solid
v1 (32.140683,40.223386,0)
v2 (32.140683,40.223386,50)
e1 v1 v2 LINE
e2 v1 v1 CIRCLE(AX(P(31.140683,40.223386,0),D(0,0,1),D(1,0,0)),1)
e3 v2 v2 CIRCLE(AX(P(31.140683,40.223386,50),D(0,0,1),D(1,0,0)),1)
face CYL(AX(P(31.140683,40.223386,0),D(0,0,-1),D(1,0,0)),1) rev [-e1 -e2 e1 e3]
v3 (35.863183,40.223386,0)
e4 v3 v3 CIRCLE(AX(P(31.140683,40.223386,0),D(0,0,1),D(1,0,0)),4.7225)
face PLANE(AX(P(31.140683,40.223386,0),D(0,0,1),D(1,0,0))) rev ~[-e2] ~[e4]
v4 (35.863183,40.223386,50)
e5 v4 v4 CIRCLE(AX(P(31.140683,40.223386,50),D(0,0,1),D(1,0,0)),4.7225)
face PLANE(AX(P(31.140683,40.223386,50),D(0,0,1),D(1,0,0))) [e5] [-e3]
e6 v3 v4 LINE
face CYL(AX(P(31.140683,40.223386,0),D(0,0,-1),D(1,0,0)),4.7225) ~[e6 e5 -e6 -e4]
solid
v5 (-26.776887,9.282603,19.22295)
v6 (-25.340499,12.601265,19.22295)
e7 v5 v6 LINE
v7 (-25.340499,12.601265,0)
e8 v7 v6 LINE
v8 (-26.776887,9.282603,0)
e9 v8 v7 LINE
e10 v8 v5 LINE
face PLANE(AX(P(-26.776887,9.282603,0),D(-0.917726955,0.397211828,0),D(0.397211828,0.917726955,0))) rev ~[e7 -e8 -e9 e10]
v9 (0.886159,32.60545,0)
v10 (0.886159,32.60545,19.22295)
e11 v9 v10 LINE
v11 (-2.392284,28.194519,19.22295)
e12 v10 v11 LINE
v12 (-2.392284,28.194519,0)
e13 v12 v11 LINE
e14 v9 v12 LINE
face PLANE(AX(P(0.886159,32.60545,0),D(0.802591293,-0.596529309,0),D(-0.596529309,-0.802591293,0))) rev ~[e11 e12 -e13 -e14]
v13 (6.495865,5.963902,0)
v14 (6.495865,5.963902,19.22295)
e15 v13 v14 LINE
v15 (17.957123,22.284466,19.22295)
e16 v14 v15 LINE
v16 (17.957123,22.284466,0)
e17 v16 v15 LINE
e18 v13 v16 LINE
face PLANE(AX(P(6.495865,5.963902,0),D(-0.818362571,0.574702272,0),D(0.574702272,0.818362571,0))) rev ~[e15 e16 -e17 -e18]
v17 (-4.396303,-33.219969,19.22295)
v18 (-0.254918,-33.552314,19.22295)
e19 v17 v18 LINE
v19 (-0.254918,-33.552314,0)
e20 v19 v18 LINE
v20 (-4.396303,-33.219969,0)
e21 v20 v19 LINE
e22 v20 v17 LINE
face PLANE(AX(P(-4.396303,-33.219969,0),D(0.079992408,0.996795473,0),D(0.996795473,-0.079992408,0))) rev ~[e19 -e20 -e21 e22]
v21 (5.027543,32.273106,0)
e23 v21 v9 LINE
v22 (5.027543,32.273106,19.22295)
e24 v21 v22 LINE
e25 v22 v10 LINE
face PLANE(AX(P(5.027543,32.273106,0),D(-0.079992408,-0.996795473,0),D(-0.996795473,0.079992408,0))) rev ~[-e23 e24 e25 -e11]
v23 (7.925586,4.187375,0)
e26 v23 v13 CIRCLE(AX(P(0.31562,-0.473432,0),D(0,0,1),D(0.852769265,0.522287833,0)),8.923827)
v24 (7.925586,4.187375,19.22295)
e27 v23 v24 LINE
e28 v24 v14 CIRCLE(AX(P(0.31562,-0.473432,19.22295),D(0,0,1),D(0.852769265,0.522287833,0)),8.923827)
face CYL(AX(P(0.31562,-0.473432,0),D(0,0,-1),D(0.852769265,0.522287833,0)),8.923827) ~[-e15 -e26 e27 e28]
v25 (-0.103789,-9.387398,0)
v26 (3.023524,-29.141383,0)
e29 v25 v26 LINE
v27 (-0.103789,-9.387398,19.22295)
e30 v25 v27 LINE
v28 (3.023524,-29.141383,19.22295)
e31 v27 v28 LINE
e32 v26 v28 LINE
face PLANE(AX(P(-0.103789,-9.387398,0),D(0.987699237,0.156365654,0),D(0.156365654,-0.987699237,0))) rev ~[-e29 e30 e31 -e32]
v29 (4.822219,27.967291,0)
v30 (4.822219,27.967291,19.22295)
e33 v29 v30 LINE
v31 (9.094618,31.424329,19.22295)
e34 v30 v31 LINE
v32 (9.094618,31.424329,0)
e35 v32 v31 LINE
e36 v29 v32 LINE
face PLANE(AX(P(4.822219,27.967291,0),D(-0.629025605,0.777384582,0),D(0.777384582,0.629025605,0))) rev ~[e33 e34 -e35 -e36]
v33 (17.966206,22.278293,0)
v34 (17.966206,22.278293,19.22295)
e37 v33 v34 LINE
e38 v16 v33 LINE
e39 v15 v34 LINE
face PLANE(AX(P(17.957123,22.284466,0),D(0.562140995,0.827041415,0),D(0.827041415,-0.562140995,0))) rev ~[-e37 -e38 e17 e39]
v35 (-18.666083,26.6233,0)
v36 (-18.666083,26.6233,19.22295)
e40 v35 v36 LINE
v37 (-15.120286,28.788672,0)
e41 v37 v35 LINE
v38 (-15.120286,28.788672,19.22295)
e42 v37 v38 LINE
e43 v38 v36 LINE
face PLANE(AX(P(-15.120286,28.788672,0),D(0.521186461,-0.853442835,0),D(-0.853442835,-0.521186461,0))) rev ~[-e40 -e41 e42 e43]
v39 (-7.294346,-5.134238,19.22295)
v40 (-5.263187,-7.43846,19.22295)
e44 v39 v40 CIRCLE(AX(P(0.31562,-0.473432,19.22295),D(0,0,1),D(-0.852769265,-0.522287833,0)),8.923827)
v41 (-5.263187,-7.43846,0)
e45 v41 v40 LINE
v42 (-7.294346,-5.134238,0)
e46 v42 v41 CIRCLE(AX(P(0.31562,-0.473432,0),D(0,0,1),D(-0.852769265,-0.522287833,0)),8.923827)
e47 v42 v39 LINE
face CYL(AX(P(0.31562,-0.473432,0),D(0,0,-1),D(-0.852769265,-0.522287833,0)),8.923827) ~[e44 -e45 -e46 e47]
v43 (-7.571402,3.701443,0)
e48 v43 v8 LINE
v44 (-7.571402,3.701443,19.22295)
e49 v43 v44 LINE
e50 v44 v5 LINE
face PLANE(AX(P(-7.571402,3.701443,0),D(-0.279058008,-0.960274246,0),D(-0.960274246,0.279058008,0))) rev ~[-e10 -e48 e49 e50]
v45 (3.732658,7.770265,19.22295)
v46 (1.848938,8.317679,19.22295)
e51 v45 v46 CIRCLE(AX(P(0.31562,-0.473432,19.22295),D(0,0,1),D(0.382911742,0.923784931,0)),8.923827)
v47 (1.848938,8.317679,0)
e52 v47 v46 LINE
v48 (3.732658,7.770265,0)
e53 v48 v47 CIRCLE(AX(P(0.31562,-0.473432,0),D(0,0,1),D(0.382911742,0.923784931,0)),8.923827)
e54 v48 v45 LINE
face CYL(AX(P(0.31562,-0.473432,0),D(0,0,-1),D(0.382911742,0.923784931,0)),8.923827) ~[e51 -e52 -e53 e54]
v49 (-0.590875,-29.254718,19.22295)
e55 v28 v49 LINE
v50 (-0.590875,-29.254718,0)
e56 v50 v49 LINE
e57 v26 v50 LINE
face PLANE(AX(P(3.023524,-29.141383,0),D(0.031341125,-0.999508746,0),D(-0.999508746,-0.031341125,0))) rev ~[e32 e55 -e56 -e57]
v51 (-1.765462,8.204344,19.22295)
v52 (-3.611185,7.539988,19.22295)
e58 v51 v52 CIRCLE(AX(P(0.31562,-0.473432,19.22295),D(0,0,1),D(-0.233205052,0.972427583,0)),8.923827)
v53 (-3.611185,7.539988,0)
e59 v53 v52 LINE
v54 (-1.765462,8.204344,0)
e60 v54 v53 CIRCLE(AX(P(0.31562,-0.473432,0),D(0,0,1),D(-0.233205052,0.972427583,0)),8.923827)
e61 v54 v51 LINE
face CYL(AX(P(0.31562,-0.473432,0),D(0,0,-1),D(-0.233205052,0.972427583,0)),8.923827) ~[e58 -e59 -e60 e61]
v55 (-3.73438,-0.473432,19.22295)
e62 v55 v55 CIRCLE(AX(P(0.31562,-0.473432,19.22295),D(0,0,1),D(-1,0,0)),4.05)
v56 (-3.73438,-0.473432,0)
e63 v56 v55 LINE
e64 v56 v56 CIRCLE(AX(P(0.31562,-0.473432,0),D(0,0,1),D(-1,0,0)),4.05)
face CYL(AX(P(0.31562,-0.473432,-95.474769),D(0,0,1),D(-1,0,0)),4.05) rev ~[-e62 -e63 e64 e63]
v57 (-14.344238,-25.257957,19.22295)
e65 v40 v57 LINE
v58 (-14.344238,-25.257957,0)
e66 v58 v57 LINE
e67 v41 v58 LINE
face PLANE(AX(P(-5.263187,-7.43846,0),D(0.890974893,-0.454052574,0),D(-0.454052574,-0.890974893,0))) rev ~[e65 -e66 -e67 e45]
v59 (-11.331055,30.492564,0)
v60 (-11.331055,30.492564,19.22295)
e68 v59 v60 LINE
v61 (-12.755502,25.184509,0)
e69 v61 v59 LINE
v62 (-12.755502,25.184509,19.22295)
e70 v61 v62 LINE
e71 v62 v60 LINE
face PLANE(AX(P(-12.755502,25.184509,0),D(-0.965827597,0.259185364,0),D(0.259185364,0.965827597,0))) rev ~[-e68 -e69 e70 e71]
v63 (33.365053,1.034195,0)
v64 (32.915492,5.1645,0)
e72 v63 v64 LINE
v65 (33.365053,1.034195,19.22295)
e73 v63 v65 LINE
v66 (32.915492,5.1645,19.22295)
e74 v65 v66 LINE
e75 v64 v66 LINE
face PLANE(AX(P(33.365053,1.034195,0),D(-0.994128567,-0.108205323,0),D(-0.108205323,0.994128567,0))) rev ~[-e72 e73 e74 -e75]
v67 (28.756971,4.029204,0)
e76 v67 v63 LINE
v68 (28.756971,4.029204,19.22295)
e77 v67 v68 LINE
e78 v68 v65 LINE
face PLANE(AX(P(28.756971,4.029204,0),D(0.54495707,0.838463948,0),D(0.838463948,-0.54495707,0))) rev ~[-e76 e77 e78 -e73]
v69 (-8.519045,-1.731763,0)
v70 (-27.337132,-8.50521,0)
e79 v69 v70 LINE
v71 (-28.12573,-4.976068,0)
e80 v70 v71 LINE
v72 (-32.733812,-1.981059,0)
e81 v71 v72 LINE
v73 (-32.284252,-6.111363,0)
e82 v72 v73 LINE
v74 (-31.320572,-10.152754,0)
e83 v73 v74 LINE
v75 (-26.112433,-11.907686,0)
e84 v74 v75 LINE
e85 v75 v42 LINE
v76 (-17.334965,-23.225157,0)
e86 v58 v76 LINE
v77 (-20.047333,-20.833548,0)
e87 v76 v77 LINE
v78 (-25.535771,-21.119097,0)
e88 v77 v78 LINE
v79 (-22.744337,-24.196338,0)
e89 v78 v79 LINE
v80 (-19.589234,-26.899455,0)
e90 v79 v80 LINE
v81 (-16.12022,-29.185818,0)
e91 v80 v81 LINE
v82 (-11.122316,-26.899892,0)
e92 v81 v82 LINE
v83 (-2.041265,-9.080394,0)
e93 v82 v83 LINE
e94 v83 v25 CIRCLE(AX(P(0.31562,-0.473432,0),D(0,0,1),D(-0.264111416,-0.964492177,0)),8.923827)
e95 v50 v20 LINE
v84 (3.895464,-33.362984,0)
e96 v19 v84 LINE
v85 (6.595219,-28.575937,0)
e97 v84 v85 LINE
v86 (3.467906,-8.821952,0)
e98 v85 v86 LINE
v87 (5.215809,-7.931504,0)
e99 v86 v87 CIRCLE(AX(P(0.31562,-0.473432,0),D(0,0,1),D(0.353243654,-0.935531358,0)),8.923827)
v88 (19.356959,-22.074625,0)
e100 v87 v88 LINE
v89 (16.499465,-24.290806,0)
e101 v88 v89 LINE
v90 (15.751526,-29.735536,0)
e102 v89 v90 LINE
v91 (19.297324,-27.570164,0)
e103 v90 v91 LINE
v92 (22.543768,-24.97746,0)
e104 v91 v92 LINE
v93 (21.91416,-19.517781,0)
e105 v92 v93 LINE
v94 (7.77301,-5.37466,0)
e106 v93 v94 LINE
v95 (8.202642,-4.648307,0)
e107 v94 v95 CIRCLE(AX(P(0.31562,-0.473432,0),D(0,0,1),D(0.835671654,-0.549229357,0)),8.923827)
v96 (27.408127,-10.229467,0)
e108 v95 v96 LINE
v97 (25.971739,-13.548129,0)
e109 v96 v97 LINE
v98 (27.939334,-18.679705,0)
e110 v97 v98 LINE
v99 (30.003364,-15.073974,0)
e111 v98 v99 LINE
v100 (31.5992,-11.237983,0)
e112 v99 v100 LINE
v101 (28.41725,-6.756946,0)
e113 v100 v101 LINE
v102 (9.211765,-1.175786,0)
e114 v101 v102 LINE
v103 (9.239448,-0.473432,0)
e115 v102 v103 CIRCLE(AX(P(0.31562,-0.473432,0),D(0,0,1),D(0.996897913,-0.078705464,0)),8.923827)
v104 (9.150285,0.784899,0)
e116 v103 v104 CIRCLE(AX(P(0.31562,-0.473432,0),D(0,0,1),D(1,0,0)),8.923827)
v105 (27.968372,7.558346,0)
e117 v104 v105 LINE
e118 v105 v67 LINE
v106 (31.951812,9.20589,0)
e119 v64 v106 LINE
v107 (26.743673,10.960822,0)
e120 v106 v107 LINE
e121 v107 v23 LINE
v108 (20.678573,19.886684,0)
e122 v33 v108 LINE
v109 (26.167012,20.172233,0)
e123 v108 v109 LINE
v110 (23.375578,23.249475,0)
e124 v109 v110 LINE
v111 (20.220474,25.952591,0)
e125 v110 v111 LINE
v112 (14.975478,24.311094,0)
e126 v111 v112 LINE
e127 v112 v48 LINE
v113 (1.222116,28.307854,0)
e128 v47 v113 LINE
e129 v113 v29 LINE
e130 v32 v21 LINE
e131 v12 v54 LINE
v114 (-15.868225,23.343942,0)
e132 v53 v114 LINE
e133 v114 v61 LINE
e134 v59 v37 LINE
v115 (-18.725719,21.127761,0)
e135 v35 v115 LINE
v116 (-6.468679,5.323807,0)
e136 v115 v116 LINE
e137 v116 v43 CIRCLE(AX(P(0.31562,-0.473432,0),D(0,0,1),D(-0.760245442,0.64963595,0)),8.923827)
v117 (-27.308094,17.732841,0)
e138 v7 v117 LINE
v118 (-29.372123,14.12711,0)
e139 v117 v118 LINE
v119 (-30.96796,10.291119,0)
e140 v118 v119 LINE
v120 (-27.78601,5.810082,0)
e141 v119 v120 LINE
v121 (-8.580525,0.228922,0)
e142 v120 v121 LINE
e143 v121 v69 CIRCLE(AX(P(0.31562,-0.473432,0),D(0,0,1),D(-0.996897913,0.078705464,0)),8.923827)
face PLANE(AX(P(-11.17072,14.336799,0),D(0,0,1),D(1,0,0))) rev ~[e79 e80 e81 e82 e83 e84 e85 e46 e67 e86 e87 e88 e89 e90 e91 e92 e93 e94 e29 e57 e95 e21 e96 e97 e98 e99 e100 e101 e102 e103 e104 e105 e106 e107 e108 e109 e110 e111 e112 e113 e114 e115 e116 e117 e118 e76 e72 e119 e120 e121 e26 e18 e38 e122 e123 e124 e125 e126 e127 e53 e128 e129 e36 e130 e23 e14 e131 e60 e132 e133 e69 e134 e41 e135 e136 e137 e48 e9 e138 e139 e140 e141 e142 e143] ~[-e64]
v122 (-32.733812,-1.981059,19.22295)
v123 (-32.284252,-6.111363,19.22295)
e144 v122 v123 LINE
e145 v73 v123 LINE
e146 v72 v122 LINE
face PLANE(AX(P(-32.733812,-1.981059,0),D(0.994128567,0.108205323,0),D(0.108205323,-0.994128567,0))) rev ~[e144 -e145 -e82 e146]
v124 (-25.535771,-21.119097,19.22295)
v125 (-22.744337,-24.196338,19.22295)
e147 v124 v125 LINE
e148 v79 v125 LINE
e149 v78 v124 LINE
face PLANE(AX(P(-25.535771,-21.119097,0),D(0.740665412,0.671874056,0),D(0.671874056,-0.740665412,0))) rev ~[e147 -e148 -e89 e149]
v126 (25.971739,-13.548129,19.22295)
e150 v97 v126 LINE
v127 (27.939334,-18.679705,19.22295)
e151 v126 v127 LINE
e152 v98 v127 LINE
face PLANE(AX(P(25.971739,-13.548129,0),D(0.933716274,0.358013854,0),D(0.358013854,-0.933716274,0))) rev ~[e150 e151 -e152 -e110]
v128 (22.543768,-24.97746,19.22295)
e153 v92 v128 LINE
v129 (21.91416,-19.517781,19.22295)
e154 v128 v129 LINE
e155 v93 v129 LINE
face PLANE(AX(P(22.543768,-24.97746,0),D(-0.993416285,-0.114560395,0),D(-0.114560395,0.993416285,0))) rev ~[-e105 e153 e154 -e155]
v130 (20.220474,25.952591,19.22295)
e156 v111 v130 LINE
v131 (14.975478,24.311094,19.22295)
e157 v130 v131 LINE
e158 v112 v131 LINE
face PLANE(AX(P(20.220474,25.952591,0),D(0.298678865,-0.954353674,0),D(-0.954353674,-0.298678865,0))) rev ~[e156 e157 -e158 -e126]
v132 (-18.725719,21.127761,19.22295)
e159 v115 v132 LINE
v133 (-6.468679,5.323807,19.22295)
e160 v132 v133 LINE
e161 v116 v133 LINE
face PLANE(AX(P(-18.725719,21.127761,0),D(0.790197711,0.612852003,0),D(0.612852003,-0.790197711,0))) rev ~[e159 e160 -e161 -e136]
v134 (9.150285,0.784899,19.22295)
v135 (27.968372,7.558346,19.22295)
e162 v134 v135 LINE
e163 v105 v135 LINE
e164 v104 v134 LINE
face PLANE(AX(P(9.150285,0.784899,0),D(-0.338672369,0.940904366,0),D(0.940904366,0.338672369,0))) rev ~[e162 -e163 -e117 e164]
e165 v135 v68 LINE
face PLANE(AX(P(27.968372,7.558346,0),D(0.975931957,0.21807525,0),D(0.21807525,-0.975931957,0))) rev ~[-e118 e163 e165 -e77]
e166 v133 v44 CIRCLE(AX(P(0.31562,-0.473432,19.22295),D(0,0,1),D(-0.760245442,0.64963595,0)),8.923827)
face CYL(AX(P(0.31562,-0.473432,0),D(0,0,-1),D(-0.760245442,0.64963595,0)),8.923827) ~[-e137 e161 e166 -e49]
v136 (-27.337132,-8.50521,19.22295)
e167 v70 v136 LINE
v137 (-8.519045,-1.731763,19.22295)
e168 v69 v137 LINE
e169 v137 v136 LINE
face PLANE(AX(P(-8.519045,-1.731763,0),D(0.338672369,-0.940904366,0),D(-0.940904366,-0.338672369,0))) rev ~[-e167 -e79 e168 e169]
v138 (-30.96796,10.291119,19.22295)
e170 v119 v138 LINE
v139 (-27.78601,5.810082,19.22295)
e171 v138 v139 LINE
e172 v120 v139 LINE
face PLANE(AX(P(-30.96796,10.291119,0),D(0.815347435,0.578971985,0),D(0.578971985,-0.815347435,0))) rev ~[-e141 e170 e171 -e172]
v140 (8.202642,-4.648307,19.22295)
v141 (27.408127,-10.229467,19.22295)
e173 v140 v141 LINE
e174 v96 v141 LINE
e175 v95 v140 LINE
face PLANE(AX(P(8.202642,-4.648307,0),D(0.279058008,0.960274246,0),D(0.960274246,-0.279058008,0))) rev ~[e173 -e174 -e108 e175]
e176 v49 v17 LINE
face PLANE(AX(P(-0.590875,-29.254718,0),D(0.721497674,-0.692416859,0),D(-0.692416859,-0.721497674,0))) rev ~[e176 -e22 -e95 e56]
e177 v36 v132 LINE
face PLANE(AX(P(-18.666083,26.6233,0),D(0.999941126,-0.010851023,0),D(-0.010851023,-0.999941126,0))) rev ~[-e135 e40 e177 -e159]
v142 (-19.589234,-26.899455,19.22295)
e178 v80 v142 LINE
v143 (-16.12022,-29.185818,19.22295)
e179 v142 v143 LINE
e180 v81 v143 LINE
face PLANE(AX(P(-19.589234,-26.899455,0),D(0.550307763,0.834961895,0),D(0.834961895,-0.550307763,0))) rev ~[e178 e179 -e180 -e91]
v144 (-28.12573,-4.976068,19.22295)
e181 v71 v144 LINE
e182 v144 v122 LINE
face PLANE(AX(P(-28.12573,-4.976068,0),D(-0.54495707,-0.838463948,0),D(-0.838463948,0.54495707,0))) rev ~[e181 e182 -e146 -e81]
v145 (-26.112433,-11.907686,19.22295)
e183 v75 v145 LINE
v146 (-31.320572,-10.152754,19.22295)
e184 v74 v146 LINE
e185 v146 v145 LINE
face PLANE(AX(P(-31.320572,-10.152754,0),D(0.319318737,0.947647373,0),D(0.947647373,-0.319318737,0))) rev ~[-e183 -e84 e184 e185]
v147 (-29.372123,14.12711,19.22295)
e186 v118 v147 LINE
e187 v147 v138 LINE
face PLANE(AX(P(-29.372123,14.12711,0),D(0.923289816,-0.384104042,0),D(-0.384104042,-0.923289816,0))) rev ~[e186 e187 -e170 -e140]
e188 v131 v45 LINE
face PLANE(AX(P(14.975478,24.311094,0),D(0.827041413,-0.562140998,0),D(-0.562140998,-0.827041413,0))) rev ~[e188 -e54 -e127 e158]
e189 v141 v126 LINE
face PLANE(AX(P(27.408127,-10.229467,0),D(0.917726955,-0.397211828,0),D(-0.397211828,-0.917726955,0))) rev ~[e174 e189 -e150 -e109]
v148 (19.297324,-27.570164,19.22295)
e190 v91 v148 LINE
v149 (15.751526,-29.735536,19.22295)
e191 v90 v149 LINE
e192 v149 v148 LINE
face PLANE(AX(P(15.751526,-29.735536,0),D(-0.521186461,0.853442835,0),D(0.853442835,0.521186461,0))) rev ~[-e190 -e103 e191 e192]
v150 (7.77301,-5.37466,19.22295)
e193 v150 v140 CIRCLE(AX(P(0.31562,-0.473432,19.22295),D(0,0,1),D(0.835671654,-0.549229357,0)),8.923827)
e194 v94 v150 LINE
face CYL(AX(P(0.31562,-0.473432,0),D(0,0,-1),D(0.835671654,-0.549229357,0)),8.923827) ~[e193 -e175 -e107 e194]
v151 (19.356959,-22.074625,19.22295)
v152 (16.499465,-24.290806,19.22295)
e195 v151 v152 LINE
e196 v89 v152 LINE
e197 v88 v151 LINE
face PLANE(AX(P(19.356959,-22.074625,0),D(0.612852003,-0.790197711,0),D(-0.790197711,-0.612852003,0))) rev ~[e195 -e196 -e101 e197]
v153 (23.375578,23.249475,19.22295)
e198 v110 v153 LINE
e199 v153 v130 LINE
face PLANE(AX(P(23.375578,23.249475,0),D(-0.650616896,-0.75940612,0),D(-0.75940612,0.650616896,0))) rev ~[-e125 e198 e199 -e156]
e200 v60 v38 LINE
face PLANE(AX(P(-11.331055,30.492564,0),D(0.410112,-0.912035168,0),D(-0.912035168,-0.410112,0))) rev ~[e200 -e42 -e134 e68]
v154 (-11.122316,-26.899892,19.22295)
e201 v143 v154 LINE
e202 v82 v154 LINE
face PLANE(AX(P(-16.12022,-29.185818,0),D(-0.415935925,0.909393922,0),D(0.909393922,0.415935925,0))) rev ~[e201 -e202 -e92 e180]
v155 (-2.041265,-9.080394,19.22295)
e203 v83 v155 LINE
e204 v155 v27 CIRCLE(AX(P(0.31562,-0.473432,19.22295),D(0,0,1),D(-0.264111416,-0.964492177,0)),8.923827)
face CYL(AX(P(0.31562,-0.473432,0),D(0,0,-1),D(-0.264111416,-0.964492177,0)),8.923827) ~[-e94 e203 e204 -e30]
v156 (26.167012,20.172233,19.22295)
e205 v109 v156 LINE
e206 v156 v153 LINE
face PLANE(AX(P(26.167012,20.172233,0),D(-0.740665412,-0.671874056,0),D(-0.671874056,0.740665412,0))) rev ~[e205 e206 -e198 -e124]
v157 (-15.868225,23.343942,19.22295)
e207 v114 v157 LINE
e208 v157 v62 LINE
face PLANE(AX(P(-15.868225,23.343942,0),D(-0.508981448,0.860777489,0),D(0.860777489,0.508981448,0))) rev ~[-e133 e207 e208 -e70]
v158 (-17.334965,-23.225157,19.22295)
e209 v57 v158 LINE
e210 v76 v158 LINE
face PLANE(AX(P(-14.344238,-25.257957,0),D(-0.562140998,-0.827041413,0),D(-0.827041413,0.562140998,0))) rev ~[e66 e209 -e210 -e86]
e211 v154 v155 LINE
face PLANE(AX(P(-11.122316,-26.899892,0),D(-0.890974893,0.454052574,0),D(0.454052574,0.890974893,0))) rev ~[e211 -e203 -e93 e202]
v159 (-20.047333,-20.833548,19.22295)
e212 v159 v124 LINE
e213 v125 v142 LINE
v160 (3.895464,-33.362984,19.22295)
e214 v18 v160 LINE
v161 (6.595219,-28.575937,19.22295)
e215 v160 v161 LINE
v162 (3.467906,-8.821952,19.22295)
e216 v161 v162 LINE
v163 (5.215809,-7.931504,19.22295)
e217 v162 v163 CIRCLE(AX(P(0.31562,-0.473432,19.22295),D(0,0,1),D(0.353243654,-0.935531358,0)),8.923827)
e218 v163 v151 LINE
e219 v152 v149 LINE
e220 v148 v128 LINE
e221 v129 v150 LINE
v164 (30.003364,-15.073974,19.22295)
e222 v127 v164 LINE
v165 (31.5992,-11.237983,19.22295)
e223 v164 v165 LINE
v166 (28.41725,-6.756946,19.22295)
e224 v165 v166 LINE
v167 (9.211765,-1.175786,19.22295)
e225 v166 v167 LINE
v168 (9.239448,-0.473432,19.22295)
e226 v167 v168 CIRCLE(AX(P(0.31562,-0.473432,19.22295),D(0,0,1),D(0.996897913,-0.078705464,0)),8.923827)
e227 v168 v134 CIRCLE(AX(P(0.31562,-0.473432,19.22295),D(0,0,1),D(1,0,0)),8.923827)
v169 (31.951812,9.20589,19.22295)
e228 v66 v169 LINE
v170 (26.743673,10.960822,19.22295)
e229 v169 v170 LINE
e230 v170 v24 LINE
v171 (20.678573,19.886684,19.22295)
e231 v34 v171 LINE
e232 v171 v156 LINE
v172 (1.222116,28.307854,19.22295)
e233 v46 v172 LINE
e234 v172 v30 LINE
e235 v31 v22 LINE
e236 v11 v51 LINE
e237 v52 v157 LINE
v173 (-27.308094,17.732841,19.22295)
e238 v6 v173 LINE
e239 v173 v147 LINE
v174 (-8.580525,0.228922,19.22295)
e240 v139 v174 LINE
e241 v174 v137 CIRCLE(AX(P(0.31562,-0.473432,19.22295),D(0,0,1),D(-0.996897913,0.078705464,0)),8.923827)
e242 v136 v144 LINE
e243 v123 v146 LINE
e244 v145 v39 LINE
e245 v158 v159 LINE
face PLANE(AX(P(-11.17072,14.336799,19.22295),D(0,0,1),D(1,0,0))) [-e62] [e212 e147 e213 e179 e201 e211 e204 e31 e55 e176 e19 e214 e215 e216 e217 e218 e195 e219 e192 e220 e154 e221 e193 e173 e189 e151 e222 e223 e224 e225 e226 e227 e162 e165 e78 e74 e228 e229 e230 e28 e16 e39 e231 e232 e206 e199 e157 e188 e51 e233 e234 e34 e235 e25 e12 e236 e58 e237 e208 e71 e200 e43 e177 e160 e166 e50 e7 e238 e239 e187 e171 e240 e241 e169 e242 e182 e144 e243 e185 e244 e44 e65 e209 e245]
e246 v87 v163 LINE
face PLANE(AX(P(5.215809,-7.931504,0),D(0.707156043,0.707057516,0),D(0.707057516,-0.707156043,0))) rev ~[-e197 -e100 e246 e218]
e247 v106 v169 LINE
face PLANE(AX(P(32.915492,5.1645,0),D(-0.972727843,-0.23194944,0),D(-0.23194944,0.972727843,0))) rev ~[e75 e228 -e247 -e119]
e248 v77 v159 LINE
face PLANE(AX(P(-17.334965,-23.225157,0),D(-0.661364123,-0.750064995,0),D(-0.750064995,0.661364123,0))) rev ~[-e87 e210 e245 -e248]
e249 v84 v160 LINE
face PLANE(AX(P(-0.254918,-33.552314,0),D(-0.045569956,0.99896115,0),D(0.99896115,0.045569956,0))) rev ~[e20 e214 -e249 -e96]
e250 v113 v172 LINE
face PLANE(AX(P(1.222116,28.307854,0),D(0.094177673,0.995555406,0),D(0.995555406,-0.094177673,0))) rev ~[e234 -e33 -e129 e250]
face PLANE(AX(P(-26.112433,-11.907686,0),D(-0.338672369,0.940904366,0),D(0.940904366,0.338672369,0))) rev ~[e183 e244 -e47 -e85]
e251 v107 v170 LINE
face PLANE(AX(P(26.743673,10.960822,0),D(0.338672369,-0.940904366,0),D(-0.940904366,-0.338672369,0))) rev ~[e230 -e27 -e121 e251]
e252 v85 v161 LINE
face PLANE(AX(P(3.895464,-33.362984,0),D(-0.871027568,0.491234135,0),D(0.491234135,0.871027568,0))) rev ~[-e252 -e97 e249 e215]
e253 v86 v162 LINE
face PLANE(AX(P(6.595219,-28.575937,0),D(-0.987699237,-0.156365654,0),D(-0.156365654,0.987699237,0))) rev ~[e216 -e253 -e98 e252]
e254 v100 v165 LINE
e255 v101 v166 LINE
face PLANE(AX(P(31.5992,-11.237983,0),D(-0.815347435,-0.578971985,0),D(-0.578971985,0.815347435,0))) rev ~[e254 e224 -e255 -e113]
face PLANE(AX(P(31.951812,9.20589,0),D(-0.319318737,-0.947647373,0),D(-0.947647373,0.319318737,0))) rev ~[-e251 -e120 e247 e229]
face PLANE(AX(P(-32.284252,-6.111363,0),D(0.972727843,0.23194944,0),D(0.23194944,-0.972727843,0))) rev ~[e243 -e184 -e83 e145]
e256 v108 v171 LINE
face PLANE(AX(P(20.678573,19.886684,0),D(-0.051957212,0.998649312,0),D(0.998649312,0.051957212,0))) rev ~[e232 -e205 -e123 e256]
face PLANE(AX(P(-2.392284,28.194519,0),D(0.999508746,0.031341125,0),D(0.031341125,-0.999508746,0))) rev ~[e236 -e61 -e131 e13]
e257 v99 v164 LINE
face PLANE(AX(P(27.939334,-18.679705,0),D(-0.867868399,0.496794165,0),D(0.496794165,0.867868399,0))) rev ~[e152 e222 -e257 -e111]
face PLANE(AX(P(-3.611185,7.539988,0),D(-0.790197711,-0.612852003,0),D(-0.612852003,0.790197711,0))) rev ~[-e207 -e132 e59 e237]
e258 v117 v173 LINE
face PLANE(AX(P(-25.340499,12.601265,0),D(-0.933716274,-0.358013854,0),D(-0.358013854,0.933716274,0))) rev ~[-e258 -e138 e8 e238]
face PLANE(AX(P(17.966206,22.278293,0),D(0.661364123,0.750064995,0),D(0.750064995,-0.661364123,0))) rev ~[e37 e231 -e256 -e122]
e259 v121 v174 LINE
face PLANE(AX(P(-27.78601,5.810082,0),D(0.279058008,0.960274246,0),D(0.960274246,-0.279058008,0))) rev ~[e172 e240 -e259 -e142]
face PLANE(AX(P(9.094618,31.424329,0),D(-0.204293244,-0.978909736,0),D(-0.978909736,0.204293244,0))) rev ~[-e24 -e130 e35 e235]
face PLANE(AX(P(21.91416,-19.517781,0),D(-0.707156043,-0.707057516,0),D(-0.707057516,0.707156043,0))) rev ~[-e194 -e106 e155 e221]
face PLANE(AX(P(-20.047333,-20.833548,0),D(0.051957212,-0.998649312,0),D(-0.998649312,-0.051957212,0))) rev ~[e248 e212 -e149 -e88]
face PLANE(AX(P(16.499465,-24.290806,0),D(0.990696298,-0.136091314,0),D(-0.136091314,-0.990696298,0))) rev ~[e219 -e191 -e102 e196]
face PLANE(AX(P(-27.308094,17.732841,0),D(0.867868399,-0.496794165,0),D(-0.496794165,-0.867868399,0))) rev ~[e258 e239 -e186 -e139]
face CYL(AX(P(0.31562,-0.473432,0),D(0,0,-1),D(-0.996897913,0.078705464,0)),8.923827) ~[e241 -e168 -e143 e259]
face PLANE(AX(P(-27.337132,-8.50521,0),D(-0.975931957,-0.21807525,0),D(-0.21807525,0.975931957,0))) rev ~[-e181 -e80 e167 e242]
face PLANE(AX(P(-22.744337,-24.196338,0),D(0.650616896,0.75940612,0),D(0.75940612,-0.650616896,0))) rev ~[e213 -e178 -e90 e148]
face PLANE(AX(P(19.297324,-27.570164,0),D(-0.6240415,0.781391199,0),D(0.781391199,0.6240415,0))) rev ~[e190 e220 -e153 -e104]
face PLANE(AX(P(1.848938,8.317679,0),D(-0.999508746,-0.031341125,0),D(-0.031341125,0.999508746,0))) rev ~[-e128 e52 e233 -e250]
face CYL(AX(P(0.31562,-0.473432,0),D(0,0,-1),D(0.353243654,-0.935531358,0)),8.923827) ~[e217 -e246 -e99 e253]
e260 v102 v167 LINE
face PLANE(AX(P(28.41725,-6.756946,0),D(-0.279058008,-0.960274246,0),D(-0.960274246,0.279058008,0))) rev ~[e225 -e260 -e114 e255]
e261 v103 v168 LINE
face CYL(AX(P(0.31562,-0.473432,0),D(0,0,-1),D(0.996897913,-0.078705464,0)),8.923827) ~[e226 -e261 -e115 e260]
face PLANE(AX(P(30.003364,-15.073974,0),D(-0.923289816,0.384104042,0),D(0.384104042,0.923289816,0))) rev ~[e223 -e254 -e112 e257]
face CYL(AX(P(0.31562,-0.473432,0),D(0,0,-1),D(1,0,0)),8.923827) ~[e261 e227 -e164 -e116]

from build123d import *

# Parameters (mm, degrees)
F0_R     = 4.7226333732
F1_DEPTH = 19.22295
F3_D     = 8.1
F0_R_2   = 4.7225
F0_R_3   = 1
F5_DEPTH = 50


with BuildPart() as f1:
    # F0 (on Top) → F1 (new body)
    with BuildSketch(Plane.XY):
        with BuildLine():
            Line((-3.6111849133, 7.5399878677), (-15.8682249749, 23.3439420857))
            Line((-15.8682249749, 23.3439420857), (-18.7257190256, 21.1277613394))
            Line((-18.7257190256, 21.1277613394), (-6.4686789639, 5.3238071213))
            ThreePointArc((-6.4686789639, 5.3238071213), (-5.153365355, 6.5781560129), (-3.6111849133, 7.5399878677))
        make_face()
        with BuildLine():
            Line((-2.3922839945, 28.1945188575), (-1.7654615012, 8.2043439318))
            ThreePointArc((-1.7654615012, 8.2043439318), (0.0359373411, 8.4460115605), (1.8489381062, 8.3176789567))
            Line((1.8489381062, 8.3176789567), (1.2221156129, 28.3078538824))
            Line((1.2221156129, 28.3078538824), (-2.3922839945, 28.1945188575))
        make_face()
        with BuildLine():
            Line((14.9754783728, 24.3110935543), (3.7326584103, 7.7702653014))
            ThreePointArc((3.7326584103, 7.7702653014), (5.1985184938, 6.9959722127), (6.4958647117, 5.963902272))
            Line((6.4958647117, 5.963902272), (17.957123341, 22.2844660446))
            Line((17.957123341, 22.2844660446), (14.9754783728, 24.3110935543))
        make_face()
        with BuildLine():
            Line((26.7436731606, 10.9608219028), (7.9255858385, 4.1873745133))
            ThreePointArc((7.9255858385, 4.1873745133), (8.7120882675, 2.5488218102), (9.1502847556, 0.784898663))
            Line((9.1502847556, 0.784898663), (27.9683720778, 7.5583460524))
            Line((27.9683720778, 7.5583460524), (26.7436731606, 10.9608219028))
        make_face()
        with BuildLine():
            Line((28.4172499462, -6.7569460852), (9.2117650183, -1.1757859295))
            ThreePointArc((9.2117650183, -1.1757859295), (8.8849417355, -2.9636974411), (8.2026421291, -4.6483066774))
            Line((8.2026421291, -4.6483066774), (27.4081270571, -10.2294668331))
            Line((27.4081270571, -10.2294668331), (28.4172499462, -6.7569460852))
        make_face()
        with BuildLine():
            ThreePointArc((7.7730097127, -5.3746599207), (6.6252793471, -6.7839704044), (5.2158089552, -7.9315043892))
            Line((5.2158089552, -7.9315043892), (19.3569592803, -22.074625243))
            Line((19.3569592803, -22.074625243), (21.9141600377, -19.5177807745))
            Line((21.9141600377, -19.5177807745), (7.7730097127, -5.3746599207))
        make_face()
        with BuildLine():
            ThreePointArc((3.4679055173, -8.8219522908), (1.7110002283, -9.28748944), (-0.1037888245, -9.3873980254))
            Line((-0.1037888245, -9.3873980254), (3.0235242493, -29.1413827612))
            Line((3.0235242493, -29.1413827612), (6.595218591, -28.5759370266))
            Line((6.595218591, -28.5759370266), (3.4679055173, -8.8219522908))
        make_face()
        with BuildLine():
            ThreePointArc((-2.0412645548, -9.0803936472), (-3.7362666617, -8.4243380938), (-5.2631866398, -7.4384595961))
            Line((-5.2631866398, -7.4384595961), (-14.3442381181, -25.257957458))
            Line((-14.3442381181, -25.257957458), (-11.1223160331, -26.8998915091))
            Line((-11.1223160331, -26.8998915091), (-2.0412645548, -9.0803936472))
        make_face()
        with BuildLine():
            ThreePointArc((-7.2943455838, -5.134238417), (-8.0808480128, -3.4956857139), (-8.5190445009, -1.7317625667))
            Line((-8.5190445009, -1.7317625667), (-27.337131823, -8.5052099561))
            Line((-27.337131823, -8.5052099561), (-26.1124329059, -11.9076858064))
            Line((-26.1124329059, -11.9076858064), (-7.2943455838, -5.134238417))
        make_face()
        with BuildLine():
            ThreePointArc((-8.5805247636, 0.2289220258), (-8.2537014807, 2.0168335374), (-7.5714018744, 3.7014427737))
            Line((-7.5714018744, 3.7014427737), (-26.7768868023, 9.2826029294))
            Line((-26.7768868023, 9.2826029294), (-27.7860096915, 5.8100821815))
            Line((-27.7860096915, 5.8100821815), (-8.5805247636, 0.2289220258))
        make_face()
        with BuildLine():
            ThreePointArc((-1.7654615012, 8.2043439318), (-2.7066336347, 7.9230361883), (-3.6111849133, 7.5399878677))
            ThreePointArc((-3.6111849133, 7.5399878677), (-5.153365355, 6.5781560129), (-6.4686789639, 5.3238071213))
            ThreePointArc((-6.4686789639, 5.3238071213), (-7.0647546716, 4.5430172762), (-7.5714018744, 3.7014427737))
            ThreePointArc((-7.5714018744, 3.7014427737), (-8.2537014807, 2.0168335374), (-8.5805247636, 0.2289220258))
            ThreePointArc((-8.5805247636, 0.2289220258), (-8.603823385, -0.7531147381), (-8.5190445009, -1.7317625667))
            ThreePointArc((-8.5190445009, -1.7317625667), (-8.0808480128, -3.4956857139), (-7.2943455838, -5.134238417))
            ThreePointArc((-7.2943455838, -5.134238417), (-6.3786526996, -6.3743985124), (-5.2631866398, -7.4384595961))
            ThreePointArc((-5.2631866398, -7.4384595961), (-3.7362666617, -8.4243380938), (-2.0412645548, -9.0803936472))
            ThreePointArc((-2.0412645548, -9.0803936472), (-1.0809880881, -9.2872949257), (-0.1037888245, -9.3873980254))
            ThreePointArc((-0.1037888245, -9.3873980254), (1.7110002283, -9.28748944), (3.4679055173, -8.8219522908))
            ThreePointArc((3.4679055173, -8.8219522908), (4.3663990183, -8.4249025961), (5.2158089552, -7.9315043892))
            ThreePointArc((5.2158089552, -7.9315043892), (6.6252793471, -6.7839704044), (7.7730097127, -5.3746599207))
            ThreePointArc((7.7730097127, -5.3746599207), (7.9964168957, -5.0165647953), (8.2026421291, -4.6483066774))
            ThreePointArc((8.2026421291, -4.6483066774), (8.8849417355, -2.9636974411), (9.2117650183, -1.1757859295))
            ThreePointArc((9.2117650183, -1.1757859295), (9.2325241962, -0.8248816032), (9.239447503, -0.4734319518))
            ThreePointArc((9.239447503, -0.4734319518), (9.2171289066, 0.1573108507), (9.1502847556, 0.784898663))
            ThreePointArc((9.1502847556, 0.784898663), (8.7120882675, 2.5488218102), (7.9255858385, 4.1873745133))
            ThreePointArc((7.9255858385, 4.1873745133), (7.2677052619, 5.1214949747), (6.4958647117, 5.963902272))
            ThreePointArc((6.4958647117, 5.963902272), (5.1985184938, 6.9959722127), (3.7326584103, 7.7702653014))
            ThreePointArc((3.7326584103, 7.7702653014), (2.8058856166, 8.0958896563), (1.8489381062, 8.3176789567))
            ThreePointArc((1.8489381062, 8.3176789567), (0.0359373411, 8.4460115605), (-1.7654615012, 8.2043439318))
        make_face()
        with Locations((0.3156201274, -0.4734319518)):
            Circle(F0_R, mode=Mode.SUBTRACT)
        with Locations((0.3156201274, -0.4734319518)):
            Circle(F0_R)
        Polygon((-26.7768868023, 9.2826029294), (-25.3404988946, 12.6012651793), (-27.3080936211, 17.7328409462), (-29.3721234408, 14.1271096793), (-30.9679598099, 10.291119149), (-27.7860096915, 5.8100821815), align=None)
        Polygon((-26.1124329059, -11.9076858064), (-27.337131823, -8.5052099561), (-28.125730323, -4.9760681687), (-32.7338124516, -1.981059328), (-32.2842519902, -6.1113634884), (-31.3205720714, -10.1527541005), align=None)
        Polygon((-11.1223160331, -26.8998915091), (-14.3442381181, -25.257957458), (-17.3349654811, -23.2251566341), (-20.0473325652, -20.8335475207), (-25.5357713458, -21.1190971868), (-22.7443374196, -24.1963384354), (-19.5892341875, -26.8994552773), (-16.1202195124, -29.1858179452), align=None)
        Polygon((6.595218591, -28.5759370266), (3.0235242493, -29.1413827612), (-0.5908753582, -29.2547177861), (-4.3963028452, -33.2199694176), (-0.2549184965, -33.5523137312), (3.895463587, -33.3629843188), align=None)
        Polygon((21.9141600377, -19.5177807745), (19.3569592803, -22.074625243), (16.4994652297, -24.2908059894), (15.7515261524, -29.7355361017), (19.2973235569, -27.5701636552), (22.5437681592, -24.977459563), align=None)
        Polygon((31.5992000647, -11.2379830526), (28.4172499462, -6.7569460852), (27.4081270571, -10.2294668331), (25.9717391493, -13.5481290829), (27.9393338758, -18.6797048499), (30.0033636956, -15.073973583), align=None)
        Polygon((31.9518123261, 9.2058901969), (26.7436731606, 10.9608219028), (27.9683720778, 7.5583460524), (28.7569705777, 4.029204265), (33.3650527063, 1.0341954243), (32.915492245, 5.1644995847), align=None)
        Polygon((20.2204744423, 25.9525913736), (14.9754783728, 24.3110935543), (17.957123341, 22.2844660446), (17.9662057359, 22.2782927304), (20.67857282, 19.8866836171), (26.1670116005, 20.1722332832), (23.3755776743, 23.2494745317), align=None)
        Polygon((0.8861587513, 32.6054498275), (-2.3922839945, 28.1945188575), (1.2221156129, 28.3078538824), (4.822219245, 27.9672908367), (9.0946176085, 31.4243287426), (5.0275430999, 32.2731055139), align=None)
        Polygon((-18.7257190256, 21.1277613394), (-15.8682249749, 23.3439420857), (-12.7555020193, 25.1845086157), (-11.3310550342, 30.4925637818), (-15.1202858977, 28.7886721981), (-18.6660833022, 26.6232997516), align=None)
    extrude(amount=F1_DEPTH)

    # F3 (through all)
    with Locations(Plane(origin=(0, 0, 0), x_dir=(1, 0, 0), z_dir=(0, 0, -1))):
        with Locations((0.3156201274, 0.4734319518)):
            Hole(F3_D / 2)


with BuildPart() as f5:
    # F0 (on Top) → F5 (new body)
    with BuildSketch(Plane.XY):
        with Locations((31.1406832188, 40.2233861387)):
            Circle(F0_R_2)
        with Locations((31.1406832188, 40.2233861387)):
            Circle(F0_R_3, mode=Mode.SUBTRACT)
    extrude(amount=F5_DEPTH)


solid = Compound([f1.part, f5.part])
